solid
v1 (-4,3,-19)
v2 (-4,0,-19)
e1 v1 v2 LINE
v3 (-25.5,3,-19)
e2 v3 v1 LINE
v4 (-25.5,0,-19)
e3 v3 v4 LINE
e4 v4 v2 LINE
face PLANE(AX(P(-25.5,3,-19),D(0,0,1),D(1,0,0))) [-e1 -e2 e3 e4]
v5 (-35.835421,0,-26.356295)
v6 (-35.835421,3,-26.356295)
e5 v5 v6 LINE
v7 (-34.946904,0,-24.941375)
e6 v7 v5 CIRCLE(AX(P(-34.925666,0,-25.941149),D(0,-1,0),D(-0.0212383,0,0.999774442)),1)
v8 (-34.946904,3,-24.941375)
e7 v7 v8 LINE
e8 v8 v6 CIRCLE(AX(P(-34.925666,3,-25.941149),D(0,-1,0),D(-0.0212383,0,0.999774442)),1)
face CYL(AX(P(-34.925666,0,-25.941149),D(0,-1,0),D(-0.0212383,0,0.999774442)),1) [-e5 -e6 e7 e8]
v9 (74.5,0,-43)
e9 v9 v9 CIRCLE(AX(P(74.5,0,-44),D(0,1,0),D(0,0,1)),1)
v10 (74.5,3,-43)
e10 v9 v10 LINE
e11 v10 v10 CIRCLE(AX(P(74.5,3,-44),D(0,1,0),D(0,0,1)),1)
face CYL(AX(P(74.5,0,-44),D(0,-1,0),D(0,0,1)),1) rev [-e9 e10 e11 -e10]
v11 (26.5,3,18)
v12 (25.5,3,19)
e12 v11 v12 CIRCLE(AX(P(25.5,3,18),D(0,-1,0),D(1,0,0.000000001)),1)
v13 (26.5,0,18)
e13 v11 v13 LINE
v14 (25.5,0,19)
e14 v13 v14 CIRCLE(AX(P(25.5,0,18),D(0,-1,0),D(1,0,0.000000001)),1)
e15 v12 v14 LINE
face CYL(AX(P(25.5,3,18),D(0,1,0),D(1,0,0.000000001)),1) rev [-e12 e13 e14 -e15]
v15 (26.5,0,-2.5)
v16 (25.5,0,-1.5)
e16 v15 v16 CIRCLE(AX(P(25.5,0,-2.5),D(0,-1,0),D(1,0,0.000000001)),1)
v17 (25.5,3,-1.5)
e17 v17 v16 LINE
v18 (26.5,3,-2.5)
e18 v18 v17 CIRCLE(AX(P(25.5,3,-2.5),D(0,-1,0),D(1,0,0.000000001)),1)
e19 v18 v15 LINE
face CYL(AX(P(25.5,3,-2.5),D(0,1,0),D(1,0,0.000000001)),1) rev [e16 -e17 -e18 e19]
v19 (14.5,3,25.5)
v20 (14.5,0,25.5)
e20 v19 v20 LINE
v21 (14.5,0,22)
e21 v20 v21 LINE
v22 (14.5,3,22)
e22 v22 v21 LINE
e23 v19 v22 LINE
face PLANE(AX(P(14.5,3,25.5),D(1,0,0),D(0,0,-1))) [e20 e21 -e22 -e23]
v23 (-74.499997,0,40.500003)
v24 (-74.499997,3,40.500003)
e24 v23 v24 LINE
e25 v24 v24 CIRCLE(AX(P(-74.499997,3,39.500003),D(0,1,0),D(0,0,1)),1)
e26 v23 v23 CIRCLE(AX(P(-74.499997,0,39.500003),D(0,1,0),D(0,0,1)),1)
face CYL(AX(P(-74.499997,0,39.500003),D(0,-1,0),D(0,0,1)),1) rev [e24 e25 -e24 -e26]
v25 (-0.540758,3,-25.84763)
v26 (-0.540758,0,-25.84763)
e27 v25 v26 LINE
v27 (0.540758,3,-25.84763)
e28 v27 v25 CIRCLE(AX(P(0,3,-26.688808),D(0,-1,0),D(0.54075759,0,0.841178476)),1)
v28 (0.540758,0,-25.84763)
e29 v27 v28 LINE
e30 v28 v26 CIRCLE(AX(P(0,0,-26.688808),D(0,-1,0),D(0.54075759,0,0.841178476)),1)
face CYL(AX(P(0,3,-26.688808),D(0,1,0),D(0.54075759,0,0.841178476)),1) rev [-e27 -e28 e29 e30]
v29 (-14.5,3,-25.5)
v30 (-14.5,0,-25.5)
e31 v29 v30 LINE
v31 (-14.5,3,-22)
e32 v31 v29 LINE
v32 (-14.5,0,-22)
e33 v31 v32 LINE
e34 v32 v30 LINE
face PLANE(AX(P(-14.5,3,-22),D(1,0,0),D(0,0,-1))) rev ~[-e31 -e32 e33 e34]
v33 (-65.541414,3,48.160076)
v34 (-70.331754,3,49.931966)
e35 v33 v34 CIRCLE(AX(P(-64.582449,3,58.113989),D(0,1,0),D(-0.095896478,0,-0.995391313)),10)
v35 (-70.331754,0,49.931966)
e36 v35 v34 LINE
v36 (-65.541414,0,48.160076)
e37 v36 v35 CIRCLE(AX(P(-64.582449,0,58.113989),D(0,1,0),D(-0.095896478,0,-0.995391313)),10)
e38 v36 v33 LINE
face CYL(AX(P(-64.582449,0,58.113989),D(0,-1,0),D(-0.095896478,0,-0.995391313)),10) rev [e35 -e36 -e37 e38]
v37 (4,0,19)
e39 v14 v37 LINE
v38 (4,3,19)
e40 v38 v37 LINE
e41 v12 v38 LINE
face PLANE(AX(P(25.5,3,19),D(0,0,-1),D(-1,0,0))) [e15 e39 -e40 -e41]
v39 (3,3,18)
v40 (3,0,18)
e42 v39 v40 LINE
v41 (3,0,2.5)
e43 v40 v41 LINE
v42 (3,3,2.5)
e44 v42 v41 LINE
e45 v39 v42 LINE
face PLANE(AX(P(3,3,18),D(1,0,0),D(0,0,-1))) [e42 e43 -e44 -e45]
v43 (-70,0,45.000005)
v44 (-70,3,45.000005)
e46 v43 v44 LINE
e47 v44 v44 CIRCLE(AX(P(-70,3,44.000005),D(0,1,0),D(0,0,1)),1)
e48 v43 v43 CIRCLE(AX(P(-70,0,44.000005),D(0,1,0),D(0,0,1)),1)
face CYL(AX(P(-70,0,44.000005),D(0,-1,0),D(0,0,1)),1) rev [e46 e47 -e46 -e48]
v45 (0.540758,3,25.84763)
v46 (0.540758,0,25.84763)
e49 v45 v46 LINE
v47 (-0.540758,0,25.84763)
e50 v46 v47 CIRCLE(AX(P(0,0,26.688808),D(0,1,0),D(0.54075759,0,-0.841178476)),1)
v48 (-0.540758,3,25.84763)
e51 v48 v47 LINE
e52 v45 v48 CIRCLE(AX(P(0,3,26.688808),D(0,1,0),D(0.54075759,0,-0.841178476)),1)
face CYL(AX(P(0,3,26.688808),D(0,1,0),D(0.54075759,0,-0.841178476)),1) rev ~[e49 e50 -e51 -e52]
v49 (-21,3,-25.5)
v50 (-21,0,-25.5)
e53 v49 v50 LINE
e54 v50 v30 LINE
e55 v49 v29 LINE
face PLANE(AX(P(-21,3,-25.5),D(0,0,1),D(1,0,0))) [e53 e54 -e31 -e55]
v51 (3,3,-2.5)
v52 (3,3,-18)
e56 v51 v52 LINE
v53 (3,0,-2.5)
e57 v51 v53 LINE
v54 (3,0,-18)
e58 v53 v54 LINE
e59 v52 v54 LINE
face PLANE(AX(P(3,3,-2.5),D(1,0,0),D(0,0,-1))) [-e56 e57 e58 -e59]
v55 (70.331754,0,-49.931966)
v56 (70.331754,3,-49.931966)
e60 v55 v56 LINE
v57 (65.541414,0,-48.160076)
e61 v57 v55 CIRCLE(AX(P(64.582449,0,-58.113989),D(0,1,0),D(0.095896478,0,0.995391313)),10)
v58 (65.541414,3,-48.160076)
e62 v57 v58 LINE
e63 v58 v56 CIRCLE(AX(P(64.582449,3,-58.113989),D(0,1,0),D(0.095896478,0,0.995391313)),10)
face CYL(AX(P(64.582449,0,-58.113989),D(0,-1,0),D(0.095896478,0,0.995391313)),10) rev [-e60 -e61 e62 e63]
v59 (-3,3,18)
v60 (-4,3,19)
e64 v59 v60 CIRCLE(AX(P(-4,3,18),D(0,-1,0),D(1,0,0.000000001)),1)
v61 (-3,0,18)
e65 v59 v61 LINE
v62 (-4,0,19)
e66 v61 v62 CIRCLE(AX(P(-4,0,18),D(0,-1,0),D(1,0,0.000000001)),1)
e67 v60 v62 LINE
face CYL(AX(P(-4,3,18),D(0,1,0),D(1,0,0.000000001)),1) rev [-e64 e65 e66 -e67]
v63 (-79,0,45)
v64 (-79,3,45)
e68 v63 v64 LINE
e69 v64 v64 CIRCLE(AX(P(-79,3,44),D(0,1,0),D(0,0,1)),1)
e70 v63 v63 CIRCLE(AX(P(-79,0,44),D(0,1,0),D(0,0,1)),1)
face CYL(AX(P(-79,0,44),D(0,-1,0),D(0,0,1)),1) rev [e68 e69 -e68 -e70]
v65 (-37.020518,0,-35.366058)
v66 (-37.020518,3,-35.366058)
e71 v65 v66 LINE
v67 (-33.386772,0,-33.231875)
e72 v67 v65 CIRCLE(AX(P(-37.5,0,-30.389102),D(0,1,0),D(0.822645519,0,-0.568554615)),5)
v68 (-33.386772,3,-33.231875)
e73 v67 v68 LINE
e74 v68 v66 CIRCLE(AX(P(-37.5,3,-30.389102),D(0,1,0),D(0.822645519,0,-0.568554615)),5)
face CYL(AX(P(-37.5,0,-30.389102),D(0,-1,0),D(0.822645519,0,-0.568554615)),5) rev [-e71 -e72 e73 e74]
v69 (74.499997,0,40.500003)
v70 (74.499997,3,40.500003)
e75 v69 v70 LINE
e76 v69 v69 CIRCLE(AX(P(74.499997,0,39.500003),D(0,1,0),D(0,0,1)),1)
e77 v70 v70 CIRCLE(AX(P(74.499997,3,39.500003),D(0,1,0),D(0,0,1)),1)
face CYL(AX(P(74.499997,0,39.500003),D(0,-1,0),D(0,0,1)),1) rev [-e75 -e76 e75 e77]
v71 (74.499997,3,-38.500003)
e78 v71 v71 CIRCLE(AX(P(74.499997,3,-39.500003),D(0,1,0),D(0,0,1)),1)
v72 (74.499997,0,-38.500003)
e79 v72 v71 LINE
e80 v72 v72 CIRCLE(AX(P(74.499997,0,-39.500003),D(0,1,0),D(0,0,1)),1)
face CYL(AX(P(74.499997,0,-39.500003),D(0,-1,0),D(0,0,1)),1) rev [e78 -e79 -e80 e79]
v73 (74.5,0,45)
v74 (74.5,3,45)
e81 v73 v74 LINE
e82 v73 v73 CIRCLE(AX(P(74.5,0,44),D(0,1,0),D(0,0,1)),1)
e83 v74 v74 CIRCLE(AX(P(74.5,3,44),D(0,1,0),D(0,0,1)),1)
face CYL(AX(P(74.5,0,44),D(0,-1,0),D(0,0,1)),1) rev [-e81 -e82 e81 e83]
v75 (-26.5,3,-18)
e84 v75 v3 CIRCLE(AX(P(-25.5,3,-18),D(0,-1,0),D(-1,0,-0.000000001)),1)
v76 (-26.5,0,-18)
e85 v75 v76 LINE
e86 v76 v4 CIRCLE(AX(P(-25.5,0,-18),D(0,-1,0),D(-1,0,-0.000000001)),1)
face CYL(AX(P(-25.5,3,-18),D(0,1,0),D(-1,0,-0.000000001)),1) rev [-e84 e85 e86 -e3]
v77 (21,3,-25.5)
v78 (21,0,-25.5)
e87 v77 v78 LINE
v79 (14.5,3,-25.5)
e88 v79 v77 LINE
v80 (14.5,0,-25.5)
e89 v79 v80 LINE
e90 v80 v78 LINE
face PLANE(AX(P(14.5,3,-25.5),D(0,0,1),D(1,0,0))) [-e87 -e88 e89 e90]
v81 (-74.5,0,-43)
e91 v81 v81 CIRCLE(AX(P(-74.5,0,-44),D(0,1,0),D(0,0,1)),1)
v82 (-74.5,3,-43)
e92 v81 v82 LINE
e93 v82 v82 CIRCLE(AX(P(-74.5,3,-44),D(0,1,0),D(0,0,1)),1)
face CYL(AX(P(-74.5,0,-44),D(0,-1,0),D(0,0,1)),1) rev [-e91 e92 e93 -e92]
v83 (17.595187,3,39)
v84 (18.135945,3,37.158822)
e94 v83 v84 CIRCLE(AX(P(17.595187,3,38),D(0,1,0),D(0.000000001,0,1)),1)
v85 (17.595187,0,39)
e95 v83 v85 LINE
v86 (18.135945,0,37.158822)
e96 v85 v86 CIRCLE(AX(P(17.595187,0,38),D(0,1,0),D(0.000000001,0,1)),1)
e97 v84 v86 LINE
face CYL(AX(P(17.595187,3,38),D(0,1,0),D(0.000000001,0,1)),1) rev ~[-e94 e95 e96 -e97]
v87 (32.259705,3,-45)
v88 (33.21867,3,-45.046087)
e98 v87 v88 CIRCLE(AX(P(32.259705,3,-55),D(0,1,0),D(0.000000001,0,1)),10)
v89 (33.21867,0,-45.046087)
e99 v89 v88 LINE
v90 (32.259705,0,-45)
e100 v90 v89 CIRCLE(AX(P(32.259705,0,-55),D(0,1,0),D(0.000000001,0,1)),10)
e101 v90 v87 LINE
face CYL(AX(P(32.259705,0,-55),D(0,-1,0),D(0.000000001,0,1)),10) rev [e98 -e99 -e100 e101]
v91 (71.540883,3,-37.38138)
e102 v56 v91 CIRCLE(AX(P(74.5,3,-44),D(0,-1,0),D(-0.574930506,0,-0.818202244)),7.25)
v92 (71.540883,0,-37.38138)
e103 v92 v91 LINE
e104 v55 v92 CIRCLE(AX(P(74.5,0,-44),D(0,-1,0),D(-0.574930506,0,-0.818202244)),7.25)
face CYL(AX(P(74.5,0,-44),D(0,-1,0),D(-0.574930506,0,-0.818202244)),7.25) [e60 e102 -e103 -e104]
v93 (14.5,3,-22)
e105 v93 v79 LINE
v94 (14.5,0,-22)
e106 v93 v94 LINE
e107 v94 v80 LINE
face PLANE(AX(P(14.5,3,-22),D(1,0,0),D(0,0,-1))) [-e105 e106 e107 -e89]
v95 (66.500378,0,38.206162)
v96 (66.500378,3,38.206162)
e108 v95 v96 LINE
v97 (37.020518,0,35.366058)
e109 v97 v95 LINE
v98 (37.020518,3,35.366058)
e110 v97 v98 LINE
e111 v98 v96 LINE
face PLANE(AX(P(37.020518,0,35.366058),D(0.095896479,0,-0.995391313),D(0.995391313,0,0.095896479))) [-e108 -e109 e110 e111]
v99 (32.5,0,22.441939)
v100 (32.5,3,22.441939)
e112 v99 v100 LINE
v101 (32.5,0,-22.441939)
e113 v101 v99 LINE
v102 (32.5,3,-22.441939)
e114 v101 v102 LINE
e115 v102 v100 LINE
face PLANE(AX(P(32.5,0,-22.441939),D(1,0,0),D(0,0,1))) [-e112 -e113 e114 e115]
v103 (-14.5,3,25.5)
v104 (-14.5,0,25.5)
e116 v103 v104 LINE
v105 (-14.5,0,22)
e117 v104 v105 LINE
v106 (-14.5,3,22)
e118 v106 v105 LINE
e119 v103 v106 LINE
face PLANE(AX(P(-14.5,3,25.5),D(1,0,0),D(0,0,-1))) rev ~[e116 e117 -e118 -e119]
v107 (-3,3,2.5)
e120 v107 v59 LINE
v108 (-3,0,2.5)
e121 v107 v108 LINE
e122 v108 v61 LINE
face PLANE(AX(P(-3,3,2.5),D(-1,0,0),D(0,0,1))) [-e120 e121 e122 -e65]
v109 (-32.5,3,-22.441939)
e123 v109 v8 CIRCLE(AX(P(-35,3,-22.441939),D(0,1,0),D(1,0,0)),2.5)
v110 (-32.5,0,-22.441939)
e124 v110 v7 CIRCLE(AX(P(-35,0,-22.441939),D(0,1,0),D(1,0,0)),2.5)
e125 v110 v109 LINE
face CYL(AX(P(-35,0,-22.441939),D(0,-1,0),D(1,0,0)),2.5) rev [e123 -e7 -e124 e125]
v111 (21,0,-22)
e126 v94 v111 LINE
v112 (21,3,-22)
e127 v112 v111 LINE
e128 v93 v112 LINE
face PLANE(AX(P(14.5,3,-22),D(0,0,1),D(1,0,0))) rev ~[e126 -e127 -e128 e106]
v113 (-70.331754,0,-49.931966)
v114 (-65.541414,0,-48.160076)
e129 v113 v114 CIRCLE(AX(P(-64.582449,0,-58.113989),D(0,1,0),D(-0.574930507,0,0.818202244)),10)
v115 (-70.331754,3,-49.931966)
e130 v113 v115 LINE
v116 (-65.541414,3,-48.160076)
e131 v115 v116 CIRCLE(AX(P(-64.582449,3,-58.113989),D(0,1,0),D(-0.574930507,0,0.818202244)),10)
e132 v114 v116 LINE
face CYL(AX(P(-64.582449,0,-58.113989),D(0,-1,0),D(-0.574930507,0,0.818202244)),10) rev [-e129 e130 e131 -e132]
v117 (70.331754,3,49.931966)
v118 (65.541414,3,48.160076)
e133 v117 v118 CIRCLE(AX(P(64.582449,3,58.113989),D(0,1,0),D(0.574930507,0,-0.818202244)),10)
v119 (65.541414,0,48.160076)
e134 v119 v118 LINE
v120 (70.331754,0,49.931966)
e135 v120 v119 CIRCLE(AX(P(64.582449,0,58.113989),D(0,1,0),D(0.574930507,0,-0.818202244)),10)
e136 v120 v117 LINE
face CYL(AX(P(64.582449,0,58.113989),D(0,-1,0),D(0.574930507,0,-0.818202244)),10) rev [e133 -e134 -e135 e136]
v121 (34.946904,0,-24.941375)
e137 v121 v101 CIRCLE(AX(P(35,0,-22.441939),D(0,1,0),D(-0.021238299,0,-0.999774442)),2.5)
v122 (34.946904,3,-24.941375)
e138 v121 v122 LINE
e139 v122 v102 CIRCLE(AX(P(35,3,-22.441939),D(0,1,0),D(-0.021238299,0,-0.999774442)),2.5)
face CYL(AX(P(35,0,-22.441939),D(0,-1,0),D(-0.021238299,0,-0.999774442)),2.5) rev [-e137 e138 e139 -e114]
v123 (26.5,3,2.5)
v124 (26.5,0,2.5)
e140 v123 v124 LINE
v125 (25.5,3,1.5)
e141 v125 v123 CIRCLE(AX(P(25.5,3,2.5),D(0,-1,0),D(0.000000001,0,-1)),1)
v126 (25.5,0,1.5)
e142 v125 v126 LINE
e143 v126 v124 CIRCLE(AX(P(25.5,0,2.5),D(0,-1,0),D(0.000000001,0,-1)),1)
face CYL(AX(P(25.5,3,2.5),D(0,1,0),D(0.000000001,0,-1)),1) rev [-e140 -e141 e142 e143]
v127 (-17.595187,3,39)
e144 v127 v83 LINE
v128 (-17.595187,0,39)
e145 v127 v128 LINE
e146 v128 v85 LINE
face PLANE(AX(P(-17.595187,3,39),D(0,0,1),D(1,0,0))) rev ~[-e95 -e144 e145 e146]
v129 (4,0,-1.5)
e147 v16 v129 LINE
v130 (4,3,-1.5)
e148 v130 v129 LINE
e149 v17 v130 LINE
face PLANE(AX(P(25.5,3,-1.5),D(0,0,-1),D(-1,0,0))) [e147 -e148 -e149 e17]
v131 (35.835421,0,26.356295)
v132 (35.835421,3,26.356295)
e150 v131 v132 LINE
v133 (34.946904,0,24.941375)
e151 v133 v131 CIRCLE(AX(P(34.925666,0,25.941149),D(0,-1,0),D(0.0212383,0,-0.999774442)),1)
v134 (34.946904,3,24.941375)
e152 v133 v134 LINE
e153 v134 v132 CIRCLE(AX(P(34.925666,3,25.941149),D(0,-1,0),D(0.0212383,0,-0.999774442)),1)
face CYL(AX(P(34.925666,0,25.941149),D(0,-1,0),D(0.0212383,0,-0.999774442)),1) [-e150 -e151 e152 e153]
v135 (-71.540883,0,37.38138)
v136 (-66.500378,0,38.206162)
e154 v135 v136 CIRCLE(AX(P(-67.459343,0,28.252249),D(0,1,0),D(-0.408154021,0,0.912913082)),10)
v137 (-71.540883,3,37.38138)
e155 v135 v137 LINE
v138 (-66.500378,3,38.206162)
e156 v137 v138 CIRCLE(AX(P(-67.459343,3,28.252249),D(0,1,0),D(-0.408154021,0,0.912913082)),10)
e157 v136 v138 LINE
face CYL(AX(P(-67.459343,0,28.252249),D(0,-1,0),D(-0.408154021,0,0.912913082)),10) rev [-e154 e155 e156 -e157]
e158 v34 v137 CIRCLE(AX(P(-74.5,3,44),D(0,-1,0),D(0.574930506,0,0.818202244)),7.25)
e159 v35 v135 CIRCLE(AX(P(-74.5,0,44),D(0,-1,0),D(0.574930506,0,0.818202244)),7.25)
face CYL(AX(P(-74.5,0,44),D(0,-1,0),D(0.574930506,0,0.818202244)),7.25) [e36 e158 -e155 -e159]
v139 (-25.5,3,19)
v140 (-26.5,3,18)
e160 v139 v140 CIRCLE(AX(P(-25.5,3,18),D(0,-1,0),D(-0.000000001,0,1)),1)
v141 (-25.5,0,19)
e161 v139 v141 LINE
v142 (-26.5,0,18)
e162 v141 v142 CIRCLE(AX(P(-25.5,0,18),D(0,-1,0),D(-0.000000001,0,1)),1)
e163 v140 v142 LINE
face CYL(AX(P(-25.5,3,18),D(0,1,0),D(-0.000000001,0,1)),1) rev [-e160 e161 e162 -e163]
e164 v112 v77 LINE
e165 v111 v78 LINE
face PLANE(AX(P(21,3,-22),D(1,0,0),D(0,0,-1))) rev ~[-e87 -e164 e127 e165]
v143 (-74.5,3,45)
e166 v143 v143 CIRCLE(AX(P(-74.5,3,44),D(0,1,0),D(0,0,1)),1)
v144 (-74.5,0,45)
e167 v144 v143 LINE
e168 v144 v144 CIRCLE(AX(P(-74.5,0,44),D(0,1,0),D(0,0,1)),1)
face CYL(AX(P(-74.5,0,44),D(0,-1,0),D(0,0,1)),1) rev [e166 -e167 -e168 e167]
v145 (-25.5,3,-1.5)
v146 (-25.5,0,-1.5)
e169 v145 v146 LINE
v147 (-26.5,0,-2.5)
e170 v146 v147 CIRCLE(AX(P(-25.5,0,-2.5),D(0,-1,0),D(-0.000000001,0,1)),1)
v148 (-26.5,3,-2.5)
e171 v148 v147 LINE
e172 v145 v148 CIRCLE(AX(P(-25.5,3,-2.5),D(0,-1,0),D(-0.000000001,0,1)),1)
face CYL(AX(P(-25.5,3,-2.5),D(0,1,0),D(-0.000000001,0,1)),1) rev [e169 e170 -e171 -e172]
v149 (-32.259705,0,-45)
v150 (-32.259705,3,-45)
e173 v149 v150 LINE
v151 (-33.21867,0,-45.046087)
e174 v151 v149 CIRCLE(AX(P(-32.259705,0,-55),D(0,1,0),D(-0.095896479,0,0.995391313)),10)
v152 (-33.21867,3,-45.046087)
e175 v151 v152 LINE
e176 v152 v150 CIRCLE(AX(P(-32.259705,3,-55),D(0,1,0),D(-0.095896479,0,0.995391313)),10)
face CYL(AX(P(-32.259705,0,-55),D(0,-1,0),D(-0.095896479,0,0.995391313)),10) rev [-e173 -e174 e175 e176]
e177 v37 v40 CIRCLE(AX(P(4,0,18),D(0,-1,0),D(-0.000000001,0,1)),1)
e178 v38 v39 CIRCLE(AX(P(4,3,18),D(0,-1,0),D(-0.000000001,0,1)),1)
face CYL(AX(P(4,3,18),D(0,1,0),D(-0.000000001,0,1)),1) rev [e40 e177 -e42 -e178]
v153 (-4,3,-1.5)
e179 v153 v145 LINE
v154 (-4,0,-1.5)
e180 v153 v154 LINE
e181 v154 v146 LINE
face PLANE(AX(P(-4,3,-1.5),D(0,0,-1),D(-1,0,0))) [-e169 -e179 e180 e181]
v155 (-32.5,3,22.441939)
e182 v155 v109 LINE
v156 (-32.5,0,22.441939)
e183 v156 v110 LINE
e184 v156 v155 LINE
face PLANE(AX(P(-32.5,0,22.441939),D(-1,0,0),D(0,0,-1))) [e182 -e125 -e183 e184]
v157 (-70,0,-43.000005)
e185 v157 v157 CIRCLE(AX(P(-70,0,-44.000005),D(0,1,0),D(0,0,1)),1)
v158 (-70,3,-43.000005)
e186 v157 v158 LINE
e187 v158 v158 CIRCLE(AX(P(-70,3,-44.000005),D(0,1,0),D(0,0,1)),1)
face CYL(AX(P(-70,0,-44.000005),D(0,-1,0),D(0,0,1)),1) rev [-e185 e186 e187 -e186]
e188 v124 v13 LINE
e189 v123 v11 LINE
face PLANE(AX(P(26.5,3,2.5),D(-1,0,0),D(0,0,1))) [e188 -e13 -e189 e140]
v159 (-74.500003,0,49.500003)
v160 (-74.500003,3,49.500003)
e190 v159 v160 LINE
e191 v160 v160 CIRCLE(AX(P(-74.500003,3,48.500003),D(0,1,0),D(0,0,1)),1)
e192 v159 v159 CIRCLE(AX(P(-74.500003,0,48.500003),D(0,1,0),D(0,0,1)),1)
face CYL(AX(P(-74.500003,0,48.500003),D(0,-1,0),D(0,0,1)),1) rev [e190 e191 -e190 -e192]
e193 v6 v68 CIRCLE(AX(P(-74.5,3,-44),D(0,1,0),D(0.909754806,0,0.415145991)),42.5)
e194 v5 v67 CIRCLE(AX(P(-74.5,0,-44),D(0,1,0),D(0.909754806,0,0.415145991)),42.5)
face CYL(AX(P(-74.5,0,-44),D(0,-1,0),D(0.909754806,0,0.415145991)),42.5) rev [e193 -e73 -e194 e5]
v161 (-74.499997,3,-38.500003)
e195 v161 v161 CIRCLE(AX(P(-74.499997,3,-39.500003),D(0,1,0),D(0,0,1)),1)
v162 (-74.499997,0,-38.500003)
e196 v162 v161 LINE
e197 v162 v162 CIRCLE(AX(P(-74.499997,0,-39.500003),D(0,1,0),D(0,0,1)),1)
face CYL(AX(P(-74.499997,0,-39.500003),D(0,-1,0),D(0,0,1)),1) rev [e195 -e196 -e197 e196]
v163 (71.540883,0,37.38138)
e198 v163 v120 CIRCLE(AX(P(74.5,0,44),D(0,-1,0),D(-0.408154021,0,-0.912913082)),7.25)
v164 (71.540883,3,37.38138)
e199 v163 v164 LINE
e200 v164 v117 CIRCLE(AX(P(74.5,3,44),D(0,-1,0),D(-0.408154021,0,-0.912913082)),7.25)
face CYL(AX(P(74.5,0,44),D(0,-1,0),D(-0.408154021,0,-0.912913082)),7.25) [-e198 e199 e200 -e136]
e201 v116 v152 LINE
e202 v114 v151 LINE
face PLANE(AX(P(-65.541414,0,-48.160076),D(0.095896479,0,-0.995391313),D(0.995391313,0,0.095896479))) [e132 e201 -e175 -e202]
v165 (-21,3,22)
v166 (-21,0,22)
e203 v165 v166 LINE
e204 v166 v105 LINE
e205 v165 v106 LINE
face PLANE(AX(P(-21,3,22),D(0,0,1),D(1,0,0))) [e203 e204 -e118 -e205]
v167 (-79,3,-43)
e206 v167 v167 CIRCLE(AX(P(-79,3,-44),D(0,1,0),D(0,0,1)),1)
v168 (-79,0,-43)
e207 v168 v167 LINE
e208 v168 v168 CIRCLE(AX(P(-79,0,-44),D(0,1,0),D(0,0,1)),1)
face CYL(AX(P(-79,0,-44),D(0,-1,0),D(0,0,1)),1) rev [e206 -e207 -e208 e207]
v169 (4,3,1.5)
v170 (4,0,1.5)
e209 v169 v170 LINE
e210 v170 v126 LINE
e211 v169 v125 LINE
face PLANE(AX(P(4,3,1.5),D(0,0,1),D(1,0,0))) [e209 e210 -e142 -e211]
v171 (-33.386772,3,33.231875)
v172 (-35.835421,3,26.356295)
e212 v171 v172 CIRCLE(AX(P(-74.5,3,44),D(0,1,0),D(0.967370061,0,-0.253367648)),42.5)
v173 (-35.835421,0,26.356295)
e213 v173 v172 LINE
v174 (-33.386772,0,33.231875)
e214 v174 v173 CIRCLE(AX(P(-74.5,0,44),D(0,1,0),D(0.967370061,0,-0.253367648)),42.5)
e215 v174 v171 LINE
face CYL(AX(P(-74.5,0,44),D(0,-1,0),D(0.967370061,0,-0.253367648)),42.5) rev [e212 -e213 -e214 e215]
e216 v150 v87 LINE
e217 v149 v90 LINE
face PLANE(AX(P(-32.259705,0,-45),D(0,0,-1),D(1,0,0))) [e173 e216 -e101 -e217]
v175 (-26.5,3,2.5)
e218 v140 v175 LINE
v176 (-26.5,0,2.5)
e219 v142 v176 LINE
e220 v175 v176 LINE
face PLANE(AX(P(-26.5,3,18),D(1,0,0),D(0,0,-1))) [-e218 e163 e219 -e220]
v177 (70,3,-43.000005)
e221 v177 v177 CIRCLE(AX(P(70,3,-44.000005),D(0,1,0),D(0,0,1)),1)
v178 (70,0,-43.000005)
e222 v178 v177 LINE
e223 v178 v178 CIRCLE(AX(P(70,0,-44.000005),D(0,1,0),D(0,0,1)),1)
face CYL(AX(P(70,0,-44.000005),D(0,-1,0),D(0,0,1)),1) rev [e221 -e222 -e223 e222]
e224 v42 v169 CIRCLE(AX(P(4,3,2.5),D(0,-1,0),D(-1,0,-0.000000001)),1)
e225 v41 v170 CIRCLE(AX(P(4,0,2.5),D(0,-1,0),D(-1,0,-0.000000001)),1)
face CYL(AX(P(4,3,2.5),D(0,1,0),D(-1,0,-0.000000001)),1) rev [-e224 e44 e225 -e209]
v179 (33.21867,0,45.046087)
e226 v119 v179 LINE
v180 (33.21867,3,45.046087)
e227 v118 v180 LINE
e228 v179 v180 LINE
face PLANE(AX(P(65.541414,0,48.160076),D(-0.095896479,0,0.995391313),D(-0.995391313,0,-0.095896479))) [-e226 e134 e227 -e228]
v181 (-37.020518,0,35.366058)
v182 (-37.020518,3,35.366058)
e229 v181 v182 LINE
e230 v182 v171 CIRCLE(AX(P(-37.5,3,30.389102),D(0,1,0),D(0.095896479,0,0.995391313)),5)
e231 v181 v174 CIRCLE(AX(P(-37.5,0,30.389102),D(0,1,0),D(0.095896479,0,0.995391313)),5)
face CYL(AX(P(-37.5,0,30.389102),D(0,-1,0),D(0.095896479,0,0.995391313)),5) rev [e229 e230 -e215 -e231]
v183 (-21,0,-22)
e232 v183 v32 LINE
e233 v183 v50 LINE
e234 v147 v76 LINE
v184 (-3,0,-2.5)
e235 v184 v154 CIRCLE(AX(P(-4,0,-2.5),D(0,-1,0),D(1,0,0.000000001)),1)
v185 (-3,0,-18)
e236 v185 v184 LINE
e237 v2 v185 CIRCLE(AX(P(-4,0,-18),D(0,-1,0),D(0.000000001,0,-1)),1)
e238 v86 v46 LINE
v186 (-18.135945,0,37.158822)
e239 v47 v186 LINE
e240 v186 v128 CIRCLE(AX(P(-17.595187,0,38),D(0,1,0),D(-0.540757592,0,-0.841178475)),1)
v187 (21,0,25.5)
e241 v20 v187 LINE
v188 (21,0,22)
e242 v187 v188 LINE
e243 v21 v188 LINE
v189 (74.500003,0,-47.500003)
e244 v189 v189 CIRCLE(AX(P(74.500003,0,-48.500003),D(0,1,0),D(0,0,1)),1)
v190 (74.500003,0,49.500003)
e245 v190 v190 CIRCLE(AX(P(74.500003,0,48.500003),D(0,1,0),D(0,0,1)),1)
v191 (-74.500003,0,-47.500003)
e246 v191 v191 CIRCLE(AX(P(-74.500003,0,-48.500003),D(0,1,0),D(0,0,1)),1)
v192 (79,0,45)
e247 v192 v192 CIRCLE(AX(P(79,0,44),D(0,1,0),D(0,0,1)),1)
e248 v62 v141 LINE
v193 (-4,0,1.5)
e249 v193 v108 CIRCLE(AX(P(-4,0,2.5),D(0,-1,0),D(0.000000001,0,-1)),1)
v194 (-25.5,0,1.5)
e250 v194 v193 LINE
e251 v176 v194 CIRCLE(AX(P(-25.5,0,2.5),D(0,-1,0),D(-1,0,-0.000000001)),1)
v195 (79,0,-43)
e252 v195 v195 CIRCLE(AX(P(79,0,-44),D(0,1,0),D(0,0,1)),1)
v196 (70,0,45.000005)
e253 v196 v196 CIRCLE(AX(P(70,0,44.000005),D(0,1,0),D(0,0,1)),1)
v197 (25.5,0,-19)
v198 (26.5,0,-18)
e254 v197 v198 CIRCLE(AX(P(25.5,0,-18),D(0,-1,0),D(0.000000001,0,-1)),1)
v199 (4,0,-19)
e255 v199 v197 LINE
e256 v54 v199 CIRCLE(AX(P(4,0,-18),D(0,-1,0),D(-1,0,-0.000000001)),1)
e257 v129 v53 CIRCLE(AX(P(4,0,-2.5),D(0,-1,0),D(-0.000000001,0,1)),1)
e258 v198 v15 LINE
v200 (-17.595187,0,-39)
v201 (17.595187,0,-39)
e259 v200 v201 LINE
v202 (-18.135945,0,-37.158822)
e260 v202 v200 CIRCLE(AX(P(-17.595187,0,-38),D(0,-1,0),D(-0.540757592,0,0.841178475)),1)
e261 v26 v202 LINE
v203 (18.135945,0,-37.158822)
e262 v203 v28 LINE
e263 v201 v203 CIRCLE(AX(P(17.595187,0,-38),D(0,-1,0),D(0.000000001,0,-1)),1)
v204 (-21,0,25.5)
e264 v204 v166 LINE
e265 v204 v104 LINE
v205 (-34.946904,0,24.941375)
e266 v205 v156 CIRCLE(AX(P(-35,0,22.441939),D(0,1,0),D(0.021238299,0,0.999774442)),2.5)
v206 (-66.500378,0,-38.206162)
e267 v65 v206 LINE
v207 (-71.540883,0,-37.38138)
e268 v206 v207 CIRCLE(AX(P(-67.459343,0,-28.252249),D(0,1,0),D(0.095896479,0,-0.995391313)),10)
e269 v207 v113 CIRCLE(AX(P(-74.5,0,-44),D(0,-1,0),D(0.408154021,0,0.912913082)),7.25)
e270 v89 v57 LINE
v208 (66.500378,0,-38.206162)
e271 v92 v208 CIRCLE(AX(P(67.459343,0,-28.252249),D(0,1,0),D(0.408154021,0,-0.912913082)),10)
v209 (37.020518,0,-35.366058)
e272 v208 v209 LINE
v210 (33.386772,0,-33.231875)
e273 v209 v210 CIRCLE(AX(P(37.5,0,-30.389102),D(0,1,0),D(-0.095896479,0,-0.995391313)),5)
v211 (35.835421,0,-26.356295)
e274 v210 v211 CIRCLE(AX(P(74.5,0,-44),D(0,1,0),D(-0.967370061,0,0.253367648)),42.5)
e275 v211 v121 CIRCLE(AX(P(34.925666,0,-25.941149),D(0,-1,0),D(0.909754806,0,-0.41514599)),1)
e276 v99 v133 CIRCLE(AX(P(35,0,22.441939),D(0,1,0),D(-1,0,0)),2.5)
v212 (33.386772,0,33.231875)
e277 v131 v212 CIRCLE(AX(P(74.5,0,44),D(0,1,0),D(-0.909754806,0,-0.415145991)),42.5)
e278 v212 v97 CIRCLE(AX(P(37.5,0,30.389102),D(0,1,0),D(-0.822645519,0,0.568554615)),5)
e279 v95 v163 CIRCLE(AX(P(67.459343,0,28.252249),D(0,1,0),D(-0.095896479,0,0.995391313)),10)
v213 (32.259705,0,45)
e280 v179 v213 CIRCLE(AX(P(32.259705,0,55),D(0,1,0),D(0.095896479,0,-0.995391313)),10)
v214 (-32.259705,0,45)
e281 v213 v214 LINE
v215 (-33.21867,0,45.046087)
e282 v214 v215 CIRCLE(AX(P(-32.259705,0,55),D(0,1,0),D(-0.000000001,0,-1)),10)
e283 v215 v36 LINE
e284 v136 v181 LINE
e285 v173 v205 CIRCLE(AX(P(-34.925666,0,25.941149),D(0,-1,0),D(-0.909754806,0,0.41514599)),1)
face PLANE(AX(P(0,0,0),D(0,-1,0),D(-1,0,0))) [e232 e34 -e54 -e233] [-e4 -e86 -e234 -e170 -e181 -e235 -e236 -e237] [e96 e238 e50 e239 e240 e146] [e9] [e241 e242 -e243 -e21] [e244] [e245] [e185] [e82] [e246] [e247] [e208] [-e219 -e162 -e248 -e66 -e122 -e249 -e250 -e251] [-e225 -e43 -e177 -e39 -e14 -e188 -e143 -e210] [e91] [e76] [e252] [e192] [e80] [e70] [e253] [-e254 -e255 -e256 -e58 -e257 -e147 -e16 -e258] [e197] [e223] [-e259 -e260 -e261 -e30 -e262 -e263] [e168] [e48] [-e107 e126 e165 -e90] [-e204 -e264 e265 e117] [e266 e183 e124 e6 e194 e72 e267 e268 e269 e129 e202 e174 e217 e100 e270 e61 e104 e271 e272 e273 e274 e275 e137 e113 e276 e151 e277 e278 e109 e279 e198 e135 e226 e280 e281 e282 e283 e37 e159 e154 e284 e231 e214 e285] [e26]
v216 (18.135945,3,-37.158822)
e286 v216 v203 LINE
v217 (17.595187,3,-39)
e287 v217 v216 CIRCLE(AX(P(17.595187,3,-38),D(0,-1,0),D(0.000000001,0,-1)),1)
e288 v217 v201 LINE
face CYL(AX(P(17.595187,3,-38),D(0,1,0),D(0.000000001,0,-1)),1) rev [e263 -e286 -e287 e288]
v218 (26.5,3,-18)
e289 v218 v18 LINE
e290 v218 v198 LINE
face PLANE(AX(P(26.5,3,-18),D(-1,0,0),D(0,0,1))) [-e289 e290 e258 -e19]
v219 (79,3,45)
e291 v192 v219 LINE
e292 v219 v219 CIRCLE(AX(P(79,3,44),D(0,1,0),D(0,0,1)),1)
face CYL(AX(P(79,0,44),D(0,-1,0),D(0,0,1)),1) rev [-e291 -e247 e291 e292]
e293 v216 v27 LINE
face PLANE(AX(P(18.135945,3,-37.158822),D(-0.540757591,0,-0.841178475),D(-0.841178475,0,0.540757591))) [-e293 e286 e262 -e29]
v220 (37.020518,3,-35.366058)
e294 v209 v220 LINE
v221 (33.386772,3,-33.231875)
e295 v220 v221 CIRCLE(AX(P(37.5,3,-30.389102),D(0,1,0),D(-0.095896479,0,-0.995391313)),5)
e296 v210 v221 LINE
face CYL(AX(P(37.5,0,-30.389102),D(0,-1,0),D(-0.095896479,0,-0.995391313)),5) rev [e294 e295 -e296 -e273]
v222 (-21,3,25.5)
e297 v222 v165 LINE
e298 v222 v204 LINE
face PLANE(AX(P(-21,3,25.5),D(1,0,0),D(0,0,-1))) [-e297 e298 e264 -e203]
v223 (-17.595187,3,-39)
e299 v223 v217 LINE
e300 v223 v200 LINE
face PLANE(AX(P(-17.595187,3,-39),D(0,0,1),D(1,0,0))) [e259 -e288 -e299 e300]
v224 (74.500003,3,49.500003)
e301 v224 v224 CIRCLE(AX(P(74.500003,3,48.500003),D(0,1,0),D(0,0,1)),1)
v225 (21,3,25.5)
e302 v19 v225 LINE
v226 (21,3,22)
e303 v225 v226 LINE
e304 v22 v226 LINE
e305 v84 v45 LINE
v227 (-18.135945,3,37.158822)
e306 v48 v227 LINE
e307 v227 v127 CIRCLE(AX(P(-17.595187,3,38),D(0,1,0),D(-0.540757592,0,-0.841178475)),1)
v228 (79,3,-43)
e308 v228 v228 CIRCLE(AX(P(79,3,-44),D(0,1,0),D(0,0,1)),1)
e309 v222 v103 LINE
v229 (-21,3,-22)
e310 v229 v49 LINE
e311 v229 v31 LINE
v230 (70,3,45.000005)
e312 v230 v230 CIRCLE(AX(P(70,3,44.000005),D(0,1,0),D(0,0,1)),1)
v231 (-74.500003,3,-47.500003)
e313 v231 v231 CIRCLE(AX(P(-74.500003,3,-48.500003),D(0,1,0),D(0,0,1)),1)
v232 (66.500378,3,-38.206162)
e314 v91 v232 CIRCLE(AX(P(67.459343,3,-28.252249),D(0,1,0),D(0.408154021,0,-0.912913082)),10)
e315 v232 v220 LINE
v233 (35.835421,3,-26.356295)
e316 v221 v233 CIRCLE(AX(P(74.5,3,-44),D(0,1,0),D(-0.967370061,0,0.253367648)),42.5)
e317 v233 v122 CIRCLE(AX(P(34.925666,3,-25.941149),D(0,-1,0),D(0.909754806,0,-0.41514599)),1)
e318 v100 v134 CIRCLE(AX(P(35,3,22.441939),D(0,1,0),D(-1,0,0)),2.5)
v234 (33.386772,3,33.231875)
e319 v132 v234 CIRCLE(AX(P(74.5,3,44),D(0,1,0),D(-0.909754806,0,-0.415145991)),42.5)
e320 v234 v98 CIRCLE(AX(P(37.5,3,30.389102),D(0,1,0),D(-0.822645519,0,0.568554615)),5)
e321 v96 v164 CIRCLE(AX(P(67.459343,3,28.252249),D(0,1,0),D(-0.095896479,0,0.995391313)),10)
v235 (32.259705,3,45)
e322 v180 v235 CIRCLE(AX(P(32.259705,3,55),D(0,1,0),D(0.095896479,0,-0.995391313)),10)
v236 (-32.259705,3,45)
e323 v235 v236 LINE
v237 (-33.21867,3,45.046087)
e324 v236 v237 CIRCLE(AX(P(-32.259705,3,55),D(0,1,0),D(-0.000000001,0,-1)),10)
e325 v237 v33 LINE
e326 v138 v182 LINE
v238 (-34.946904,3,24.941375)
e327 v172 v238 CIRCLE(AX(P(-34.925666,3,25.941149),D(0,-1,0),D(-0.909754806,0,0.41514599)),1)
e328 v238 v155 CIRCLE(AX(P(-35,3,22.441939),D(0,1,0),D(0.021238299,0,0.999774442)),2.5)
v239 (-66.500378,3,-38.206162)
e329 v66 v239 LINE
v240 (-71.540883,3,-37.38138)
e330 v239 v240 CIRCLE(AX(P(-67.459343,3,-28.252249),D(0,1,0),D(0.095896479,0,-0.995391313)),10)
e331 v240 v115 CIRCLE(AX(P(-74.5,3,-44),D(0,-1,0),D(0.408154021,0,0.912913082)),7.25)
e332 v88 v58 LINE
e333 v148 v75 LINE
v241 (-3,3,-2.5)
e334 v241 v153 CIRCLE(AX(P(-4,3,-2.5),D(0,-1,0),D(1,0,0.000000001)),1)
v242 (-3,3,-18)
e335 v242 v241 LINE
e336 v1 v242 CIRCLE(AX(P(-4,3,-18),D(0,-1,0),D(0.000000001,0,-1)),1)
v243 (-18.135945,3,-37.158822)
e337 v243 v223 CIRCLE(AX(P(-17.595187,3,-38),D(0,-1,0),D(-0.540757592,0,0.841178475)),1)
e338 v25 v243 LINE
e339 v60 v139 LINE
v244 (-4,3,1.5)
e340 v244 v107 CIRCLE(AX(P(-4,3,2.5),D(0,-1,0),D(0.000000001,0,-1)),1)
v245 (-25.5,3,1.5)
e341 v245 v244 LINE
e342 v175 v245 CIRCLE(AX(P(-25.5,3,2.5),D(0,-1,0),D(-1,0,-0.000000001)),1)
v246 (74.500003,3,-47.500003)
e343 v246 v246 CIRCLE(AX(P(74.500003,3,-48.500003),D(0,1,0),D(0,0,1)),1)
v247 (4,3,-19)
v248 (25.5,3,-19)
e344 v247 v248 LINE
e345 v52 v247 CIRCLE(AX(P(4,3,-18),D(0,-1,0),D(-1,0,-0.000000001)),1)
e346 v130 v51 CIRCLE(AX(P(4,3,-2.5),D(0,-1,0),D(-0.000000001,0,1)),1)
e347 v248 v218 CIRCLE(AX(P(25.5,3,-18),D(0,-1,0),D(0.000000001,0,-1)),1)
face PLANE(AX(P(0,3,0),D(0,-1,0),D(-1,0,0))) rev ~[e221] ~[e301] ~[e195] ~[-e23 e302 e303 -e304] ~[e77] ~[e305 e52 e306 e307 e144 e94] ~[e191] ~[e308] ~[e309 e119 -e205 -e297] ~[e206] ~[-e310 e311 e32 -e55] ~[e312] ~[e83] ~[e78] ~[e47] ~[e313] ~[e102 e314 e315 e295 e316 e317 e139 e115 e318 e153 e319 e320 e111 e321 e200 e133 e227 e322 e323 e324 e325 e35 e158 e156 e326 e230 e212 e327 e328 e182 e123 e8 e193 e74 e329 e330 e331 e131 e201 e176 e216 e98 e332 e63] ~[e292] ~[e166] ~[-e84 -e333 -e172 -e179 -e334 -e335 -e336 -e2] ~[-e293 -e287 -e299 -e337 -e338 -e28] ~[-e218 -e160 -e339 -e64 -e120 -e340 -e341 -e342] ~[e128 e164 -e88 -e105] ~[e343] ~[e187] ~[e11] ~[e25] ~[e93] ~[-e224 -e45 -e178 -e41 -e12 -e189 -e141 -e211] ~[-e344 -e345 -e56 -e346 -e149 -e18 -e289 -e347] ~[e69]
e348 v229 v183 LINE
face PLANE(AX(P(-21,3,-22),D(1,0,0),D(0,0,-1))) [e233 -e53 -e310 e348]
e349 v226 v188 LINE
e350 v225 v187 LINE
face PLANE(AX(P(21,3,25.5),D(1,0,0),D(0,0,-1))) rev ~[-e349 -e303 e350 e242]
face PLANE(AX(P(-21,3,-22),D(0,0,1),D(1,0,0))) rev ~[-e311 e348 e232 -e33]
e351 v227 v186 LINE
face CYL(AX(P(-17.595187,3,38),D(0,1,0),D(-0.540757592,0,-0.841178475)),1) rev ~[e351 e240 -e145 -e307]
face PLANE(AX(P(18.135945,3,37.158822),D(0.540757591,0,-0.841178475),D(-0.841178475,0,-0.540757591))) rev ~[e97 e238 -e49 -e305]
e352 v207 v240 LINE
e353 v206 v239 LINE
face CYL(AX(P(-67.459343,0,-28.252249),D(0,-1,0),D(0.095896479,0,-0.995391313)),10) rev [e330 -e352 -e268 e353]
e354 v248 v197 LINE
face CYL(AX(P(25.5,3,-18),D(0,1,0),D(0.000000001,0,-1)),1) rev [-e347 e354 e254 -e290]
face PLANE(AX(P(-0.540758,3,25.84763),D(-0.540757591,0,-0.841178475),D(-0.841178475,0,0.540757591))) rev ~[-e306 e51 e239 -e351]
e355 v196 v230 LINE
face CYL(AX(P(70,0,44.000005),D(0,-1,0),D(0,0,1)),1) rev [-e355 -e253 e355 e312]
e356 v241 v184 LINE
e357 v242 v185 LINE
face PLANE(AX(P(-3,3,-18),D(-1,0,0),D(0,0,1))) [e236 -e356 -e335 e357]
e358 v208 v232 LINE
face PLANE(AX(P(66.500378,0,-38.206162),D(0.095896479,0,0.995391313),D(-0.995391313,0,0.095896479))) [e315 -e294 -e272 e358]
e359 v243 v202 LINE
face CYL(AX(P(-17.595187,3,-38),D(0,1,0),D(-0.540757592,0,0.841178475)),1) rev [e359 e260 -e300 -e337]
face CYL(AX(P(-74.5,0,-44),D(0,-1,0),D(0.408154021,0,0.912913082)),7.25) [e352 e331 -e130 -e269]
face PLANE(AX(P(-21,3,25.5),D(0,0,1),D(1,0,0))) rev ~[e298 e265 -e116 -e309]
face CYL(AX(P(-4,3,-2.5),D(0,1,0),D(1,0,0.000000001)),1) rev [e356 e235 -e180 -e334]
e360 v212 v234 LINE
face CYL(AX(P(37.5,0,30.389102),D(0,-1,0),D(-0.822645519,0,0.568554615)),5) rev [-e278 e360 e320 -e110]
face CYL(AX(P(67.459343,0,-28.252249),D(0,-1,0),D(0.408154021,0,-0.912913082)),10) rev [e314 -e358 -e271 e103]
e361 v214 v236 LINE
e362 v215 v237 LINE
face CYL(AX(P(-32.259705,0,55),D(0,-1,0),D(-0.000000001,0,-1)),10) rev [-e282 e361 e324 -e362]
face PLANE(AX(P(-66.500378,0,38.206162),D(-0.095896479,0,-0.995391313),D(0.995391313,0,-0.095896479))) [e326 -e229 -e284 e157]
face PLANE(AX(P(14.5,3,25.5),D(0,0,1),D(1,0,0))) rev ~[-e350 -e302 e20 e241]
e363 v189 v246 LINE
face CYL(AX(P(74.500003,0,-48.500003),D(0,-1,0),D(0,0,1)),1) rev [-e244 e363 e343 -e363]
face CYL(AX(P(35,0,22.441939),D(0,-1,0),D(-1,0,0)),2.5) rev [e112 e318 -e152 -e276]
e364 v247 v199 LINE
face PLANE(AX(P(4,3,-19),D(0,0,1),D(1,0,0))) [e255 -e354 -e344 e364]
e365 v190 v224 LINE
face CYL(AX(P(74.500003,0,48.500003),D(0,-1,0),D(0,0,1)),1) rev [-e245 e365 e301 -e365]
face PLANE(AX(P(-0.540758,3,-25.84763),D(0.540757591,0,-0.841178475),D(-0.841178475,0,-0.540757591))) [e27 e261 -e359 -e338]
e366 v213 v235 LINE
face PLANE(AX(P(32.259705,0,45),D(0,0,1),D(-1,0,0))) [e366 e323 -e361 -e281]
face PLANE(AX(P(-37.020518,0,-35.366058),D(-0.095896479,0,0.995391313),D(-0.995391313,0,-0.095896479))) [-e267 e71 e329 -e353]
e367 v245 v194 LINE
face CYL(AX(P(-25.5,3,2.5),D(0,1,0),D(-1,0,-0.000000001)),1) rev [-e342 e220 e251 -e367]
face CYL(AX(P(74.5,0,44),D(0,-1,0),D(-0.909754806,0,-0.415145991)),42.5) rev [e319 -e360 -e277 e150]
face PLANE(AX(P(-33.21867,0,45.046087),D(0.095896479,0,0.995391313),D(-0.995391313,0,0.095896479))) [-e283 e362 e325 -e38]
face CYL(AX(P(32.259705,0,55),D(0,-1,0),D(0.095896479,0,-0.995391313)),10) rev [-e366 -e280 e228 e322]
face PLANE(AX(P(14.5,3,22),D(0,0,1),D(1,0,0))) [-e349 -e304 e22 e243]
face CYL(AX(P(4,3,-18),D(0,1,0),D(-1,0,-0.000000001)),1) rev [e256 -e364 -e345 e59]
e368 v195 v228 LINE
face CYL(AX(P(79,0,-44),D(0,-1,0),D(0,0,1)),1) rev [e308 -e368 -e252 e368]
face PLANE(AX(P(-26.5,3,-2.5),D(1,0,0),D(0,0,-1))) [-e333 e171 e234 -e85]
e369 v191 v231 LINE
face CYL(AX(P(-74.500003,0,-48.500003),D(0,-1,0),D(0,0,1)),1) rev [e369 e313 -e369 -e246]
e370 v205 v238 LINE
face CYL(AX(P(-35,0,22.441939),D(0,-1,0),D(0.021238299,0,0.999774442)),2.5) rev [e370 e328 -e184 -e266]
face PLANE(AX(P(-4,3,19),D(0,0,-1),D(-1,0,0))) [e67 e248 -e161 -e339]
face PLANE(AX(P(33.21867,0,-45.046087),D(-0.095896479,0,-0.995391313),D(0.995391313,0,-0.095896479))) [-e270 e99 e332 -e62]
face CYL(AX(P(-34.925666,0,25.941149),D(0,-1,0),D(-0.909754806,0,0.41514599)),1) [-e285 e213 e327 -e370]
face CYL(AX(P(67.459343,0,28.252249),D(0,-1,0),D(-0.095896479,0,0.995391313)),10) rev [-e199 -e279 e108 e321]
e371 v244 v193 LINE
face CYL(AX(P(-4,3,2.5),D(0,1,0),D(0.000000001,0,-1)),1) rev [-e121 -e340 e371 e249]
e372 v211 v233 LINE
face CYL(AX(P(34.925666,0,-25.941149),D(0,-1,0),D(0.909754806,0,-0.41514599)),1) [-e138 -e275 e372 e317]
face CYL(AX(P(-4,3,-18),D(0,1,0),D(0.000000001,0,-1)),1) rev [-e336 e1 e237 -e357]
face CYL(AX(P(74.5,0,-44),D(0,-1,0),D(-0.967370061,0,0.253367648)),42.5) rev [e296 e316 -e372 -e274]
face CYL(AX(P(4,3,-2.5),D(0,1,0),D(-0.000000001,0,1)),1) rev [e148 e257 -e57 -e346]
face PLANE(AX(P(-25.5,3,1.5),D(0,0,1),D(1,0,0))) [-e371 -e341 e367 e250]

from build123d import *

# Parameters (mm, degrees)
SKETCH1_R           = 1
SKETCH1_R_2         = 0.999999999
SKETCH1_R_3         = 1.000000001
SKETCH1_R_4         = 1.000000003
SKETCH1_R_5         = 0.999999997
BOSS_EXTRUDE1_DEPTH = 3
SKETCH2_W           = 6.5
SKETCH2_H           = 3.5
CUT_EXTRUDE1_DEPTH  = 3


with BuildPart() as part:
    # Sketch1 → Boss-Extrude1 (new body)
    with BuildSketch(Plane(origin=(0, 0, 0), x_dir=(1, 0, 0), z_dir=(0, 1, 0))):
        with BuildLine():
            Line((-65.541413555, 48.16007559), (-33.218669872, 45.046086874))
            ThreePointArc((-33.218669872, 45.046086874), (-32.739740879, 45.011528364), (-32.25970508, 45))
            Line((-32.25970508, 45), (32.25970508, 45))
            ThreePointArc((32.25970508, 45), (32.739740879, 45.011528364), (33.218669872, 45.046086874))
            Line((33.218669872, 45.046086874), (65.541413555, 48.16007559))
            ThreePointArc((65.541413555, 48.16007559), (68.051615849, 48.735029299), (70.331753828, 49.931966272))
            ThreePointArc((70.331753828, 49.931966272), (81.716587017, 44.695249474), (71.540883348, 37.381380156))
            ThreePointArc((71.540883348, 37.381380156), (69.074176187, 38.121003778), (66.500378347, 38.206162463))
            Line((66.500378347, 38.206162463), (37.020517604, 35.366058461))
            ThreePointArc((37.020517604, 35.366058461), (34.967820887, 34.700490182), (33.386772404, 33.231874971))
            ThreePointArc((33.386772404, 33.231874971), (34.463229219, 29.741424145), (35.835420758, 26.3562954))
            ThreePointArc((35.835420758, 26.3562954), (35.77253489, 25.409347753), (34.946904251, 24.941374967))
            ThreePointArc((34.946904251, 24.941374967), (33.213559493, 24.190832889), (32.5, 22.441938863))
            Line((32.5, 22.441938863), (32.5, -22.441938863))
            ThreePointArc((32.5, -22.441938863), (33.213559493, -24.190832889), (34.946904251, -24.941374967))
            ThreePointArc((34.946904251, -24.941374967), (35.77253489, -25.409347753), (35.835420758, -26.3562954))
            ThreePointArc((35.835420758, -26.3562954), (34.463229219, -29.741424145), (33.386772404, -33.231874971))
            ThreePointArc((33.386772404, -33.231874971), (34.967820887, -34.700490182), (37.020517604, -35.366058461))
            Line((37.020517604, -35.366058461), (66.500378347, -38.206162463))
            ThreePointArc((66.500378347, -38.206162463), (69.074176187, -38.121003778), (71.540883348, -37.381380156))
            ThreePointArc((71.540883348, -37.381380156), (81.716587017, -44.695249474), (70.331753828, -49.931966272))
            ThreePointArc((70.331753828, -49.931966272), (68.051615849, -48.735029299), (65.541413555, -48.16007559))
            Line((65.541413555, -48.16007559), (33.218669872, -45.046086874))
            ThreePointArc((33.218669872, -45.046086874), (32.739740879, -45.011528364), (32.25970508, -45))
            Line((32.25970508, -45), (-32.25970508, -45))
            ThreePointArc((-32.25970508, -45), (-32.739740879, -45.011528364), (-33.218669872, -45.046086874))
            Line((-33.218669872, -45.046086874), (-65.541413555, -48.16007559))
            ThreePointArc((-65.541413555, -48.16007559), (-68.051615849, -48.735029299), (-70.331753828, -49.931966272))
            ThreePointArc((-70.331753828, -49.931966272), (-81.716587017, -44.695249474), (-71.540883348, -37.381380156))
            ThreePointArc((-71.540883348, -37.381380156), (-69.074176187, -38.121003778), (-66.500378347, -38.206162463))
            Line((-66.500378347, -38.206162463), (-37.020517604, -35.366058461))
            ThreePointArc((-37.020517604, -35.366058461), (-34.967820887, -34.700490182), (-33.386772404, -33.231874971))
            ThreePointArc((-33.386772404, -33.231874971), (-34.463229219, -29.741424145), (-35.835420758, -26.3562954))
            ThreePointArc((-35.835420758, -26.3562954), (-35.77253489, -25.409347753), (-34.946904251, -24.941374967))
            ThreePointArc((-34.946904251, -24.941374967), (-33.213559493, -24.190832889), (-32.5, -22.441938863))
            Line((-32.5, -22.441938863), (-32.5, 22.441938863))
            ThreePointArc((-32.5, 22.441938863), (-33.213559493, 24.190832889), (-34.946904251, 24.941374967))
            ThreePointArc((-34.946904251, 24.941374967), (-35.77253489, 25.409347753), (-35.835420758, 26.3562954))
            ThreePointArc((-35.835420758, 26.3562954), (-34.463229219, 29.741424145), (-33.386772404, 33.231874971))
            ThreePointArc((-33.386772404, 33.231874971), (-34.967820887, 34.700490182), (-37.020517604, 35.366058461))
            Line((-37.020517604, 35.366058461), (-66.500378347, 38.206162463))
            ThreePointArc((-66.500378347, 38.206162463), (-69.074176187, 38.121003778), (-71.540883348, 37.381380156))
            ThreePointArc((-71.540883348, 37.381380156), (-81.716587017, 44.695249474), (-70.331753828, 49.931966272))
            ThreePointArc((-70.331753828, 49.931966272), (-68.051615849, 48.735029299), (-65.541413555, 48.16007559))
        make_face()
        with Locations(Location((-79, 44, 0), (0, 0, 270))):
            Circle(SKETCH1_R, mode=Mode.SUBTRACT)
        with Locations(Location((79, -44, 0), (0, 0, 270))):
            Circle(SKETCH1_R, mode=Mode.SUBTRACT)
        with Locations(Location((79, 44, 0), (0, 0, 270))):
            Circle(SKETCH1_R, mode=Mode.SUBTRACT)
        with Locations(Location((-74.500002545, 48.500002545, 0), (0, 0, 270))):
            Circle(SKETCH1_R_2, mode=Mode.SUBTRACT)
        with Locations(Location((-70, 44.00000509, 0), (0, 0, 270))):
            Circle(SKETCH1_R_3, mode=Mode.SUBTRACT)
        with Locations(Location((-74.499997455, 39.500002545, 0), (0, 0, 270))):
            Circle(SKETCH1_R_4, mode=Mode.SUBTRACT)
        with Locations(Location((-74.499997455, -39.500002545, 0), (0, 0, 270))):
            Circle(SKETCH1_R_3, mode=Mode.SUBTRACT)
        with Locations(Location((-70, -44.00000509, 0), (0, 0, 270))):
            Circle(SKETCH1_R_2, mode=Mode.SUBTRACT)
        with Locations(Location((-74.500002545, -48.500002545, 0), (0, 0, 270))):
            Circle(SKETCH1_R_5, mode=Mode.SUBTRACT)
        with Locations(Location((-79, -44, 0), (0, 0, 270))):
            Circle(SKETCH1_R, mode=Mode.SUBTRACT)
        with Locations(Location((74.500002545, -48.500002545, 0), (0, 0, 270))):
            Circle(SKETCH1_R_3, mode=Mode.SUBTRACT)
        with Locations(Location((70, -44.00000509, 0), (0, 0, 270))):
            Circle(SKETCH1_R_2, mode=Mode.SUBTRACT)
        with Locations(Location((74.499997455, -39.500002545, 0), (0, 0, 270))):
            Circle(SKETCH1_R_5, mode=Mode.SUBTRACT)
        with Locations(Location((74.499997455, 39.500002545, 0), (0, 0, 270))):
            Circle(SKETCH1_R_2, mode=Mode.SUBTRACT)
        with Locations(Location((70, 44.00000509, 0), (0, 0, 270))):
            Circle(SKETCH1_R_3, mode=Mode.SUBTRACT)
        with Locations(Location((74.500002545, 48.500002545, 0), (0, 0, 270))):
            Circle(SKETCH1_R_4, mode=Mode.SUBTRACT)
        with Locations(Location((-74.5, -44, 0), (0, 0, 270))):
            Circle(SKETCH1_R, mode=Mode.SUBTRACT)
        with Locations(Location((-74.5, 44, 0), (0, 0, 270))):
            Circle(SKETCH1_R, mode=Mode.SUBTRACT)
        with Locations(Location((74.5, 44, 0), (0, 0, 270))):
            Circle(SKETCH1_R, mode=Mode.SUBTRACT)
        with Locations(Location((74.5, -44, 0), (0, 0, 270))):
            Circle(SKETCH1_R, mode=Mode.SUBTRACT)
    extrude(amount=BOSS_EXTRUDE1_DEPTH)

    # Sketch2 → Cut-Extrude1 (cut)
    with BuildSketch(Plane(origin=(0, 3, 0), x_dir=(1, 0, 0), z_dir=(0, 1, 0))):
        with Locations((-17.75, 23.75)):
            Rectangle(SKETCH2_W, SKETCH2_H)
        with Locations((-17.75, -23.75)):
            Rectangle(SKETCH2_W, SKETCH2_H)
        with Locations((17.75, -23.75)):
            Rectangle(SKETCH2_W, SKETCH2_H)
        with Locations((17.75, 23.75)):
            Rectangle(SKETCH2_W, SKETCH2_H)
        with BuildLine():
            Line((-25.5, 19), (-4, 19))
            ThreePointArc((-4, 19), (-3.292893219, 18.707106781), (-3, 18))
            Line((-3, 18), (-3, 2.5))
            ThreePointArc((-3, 2.5), (-3.292893219, 1.792893219), (-4, 1.5))
            Line((-4, 1.5), (-25.5, 1.5))
            ThreePointArc((-25.5, 1.5), (-26.207106781, 1.792893219), (-26.5, 2.5))
            Line((-26.5, 2.5), (-26.5, 18))
            ThreePointArc((-26.5, 18), (-26.207106781, 18.707106781), (-25.5, 19))
        make_face()
        with BuildLine():
            Line((-25.5, -1.5), (-4, -1.5))
            ThreePointArc((-4, -1.5), (-3.292893219, -1.792893219), (-3, -2.5))
            Line((-3, -2.5), (-3, -18))
            ThreePointArc((-3, -18), (-3.292893219, -18.707106781), (-4, -19))
            Line((-4, -19), (-25.5, -19))
            ThreePointArc((-25.5, -19), (-26.207106781, -18.707106781), (-26.5, -18))
            Line((-26.5, -18), (-26.5, -2.5))
            ThreePointArc((-26.5, -2.5), (-26.207106781, -1.792893219), (-25.5, -1.5))
        make_face()
        with BuildLine():
            Line((4, 19), (25.5, 19))
            ThreePointArc((25.5, 19), (26.207106781, 18.707106781), (26.5, 18))
            Line((26.5, 18), (26.5, 2.5))
            ThreePointArc((26.5, 2.5), (26.207106781, 1.792893219), (25.5, 1.5))
            Line((25.5, 1.5), (4, 1.5))
            ThreePointArc((4, 1.5), (3.292893219, 1.792893219), (3, 2.5))
            Line((3, 2.5), (3, 18))
            ThreePointArc((3, 18), (3.292893219, 18.707106781), (4, 19))
        make_face()
        with BuildLine():
            Line((4, -1.5), (25.5, -1.5))
            ThreePointArc((25.5, -1.5), (26.207106781, -1.792893219), (26.5, -2.5))
            Line((26.5, -2.5), (26.5, -18))
            ThreePointArc((26.5, -18), (26.207106781, -18.707106781), (25.5, -19))
            Line((25.5, -19), (4, -19))
            ThreePointArc((4, -19), (3.292893219, -18.707106781), (3, -18))
            Line((3, -18), (3, -2.5))
            ThreePointArc((3, -2.5), (3.292893219, -1.792893219), (4, -1.5))
        make_face()
        with BuildLine():
            Line((-17.595187003, 39), (17.595187003, 39))
            ThreePointArc((17.595187003, 39), (18.554660419, 38.281799152), (18.135944594, 37.158821525))
            Line((18.135944594, 37.158821525), (0.540757591, 25.84762988))
            ThreePointArc((0.540757591, 25.84762988), (0, 25.688808356), (-0.540757591, 25.84762988))
            Line((-0.540757591, 25.84762988), (-18.135944594, 37.158821525))
            ThreePointArc((-18.135944594, 37.158821525), (-18.554660419, 38.281799152), (-17.595187003, 39))
        make_face()
        with BuildLine():
            Line((-17.595187003, -39), (17.595187003, -39))
            ThreePointArc((17.595187003, -39), (18.554660419, -38.281799152), (18.135944594, -37.158821525))
            Line((18.135944594, -37.158821525), (0.540757591, -25.84762988))
            ThreePointArc((0.540757591, -25.84762988), (0, -25.688808356), (-0.540757591, -25.84762988))
            Line((-0.540757591, -25.84762988), (-18.135944594, -37.158821525))
            ThreePointArc((-18.135944594, -37.158821525), (-18.554660419, -38.281799152), (-17.595187003, -39))
        make_face()
    extrude(amount=-CUT_EXTRUDE1_DEPTH, mode=Mode.SUBTRACT)


solid = part.part
